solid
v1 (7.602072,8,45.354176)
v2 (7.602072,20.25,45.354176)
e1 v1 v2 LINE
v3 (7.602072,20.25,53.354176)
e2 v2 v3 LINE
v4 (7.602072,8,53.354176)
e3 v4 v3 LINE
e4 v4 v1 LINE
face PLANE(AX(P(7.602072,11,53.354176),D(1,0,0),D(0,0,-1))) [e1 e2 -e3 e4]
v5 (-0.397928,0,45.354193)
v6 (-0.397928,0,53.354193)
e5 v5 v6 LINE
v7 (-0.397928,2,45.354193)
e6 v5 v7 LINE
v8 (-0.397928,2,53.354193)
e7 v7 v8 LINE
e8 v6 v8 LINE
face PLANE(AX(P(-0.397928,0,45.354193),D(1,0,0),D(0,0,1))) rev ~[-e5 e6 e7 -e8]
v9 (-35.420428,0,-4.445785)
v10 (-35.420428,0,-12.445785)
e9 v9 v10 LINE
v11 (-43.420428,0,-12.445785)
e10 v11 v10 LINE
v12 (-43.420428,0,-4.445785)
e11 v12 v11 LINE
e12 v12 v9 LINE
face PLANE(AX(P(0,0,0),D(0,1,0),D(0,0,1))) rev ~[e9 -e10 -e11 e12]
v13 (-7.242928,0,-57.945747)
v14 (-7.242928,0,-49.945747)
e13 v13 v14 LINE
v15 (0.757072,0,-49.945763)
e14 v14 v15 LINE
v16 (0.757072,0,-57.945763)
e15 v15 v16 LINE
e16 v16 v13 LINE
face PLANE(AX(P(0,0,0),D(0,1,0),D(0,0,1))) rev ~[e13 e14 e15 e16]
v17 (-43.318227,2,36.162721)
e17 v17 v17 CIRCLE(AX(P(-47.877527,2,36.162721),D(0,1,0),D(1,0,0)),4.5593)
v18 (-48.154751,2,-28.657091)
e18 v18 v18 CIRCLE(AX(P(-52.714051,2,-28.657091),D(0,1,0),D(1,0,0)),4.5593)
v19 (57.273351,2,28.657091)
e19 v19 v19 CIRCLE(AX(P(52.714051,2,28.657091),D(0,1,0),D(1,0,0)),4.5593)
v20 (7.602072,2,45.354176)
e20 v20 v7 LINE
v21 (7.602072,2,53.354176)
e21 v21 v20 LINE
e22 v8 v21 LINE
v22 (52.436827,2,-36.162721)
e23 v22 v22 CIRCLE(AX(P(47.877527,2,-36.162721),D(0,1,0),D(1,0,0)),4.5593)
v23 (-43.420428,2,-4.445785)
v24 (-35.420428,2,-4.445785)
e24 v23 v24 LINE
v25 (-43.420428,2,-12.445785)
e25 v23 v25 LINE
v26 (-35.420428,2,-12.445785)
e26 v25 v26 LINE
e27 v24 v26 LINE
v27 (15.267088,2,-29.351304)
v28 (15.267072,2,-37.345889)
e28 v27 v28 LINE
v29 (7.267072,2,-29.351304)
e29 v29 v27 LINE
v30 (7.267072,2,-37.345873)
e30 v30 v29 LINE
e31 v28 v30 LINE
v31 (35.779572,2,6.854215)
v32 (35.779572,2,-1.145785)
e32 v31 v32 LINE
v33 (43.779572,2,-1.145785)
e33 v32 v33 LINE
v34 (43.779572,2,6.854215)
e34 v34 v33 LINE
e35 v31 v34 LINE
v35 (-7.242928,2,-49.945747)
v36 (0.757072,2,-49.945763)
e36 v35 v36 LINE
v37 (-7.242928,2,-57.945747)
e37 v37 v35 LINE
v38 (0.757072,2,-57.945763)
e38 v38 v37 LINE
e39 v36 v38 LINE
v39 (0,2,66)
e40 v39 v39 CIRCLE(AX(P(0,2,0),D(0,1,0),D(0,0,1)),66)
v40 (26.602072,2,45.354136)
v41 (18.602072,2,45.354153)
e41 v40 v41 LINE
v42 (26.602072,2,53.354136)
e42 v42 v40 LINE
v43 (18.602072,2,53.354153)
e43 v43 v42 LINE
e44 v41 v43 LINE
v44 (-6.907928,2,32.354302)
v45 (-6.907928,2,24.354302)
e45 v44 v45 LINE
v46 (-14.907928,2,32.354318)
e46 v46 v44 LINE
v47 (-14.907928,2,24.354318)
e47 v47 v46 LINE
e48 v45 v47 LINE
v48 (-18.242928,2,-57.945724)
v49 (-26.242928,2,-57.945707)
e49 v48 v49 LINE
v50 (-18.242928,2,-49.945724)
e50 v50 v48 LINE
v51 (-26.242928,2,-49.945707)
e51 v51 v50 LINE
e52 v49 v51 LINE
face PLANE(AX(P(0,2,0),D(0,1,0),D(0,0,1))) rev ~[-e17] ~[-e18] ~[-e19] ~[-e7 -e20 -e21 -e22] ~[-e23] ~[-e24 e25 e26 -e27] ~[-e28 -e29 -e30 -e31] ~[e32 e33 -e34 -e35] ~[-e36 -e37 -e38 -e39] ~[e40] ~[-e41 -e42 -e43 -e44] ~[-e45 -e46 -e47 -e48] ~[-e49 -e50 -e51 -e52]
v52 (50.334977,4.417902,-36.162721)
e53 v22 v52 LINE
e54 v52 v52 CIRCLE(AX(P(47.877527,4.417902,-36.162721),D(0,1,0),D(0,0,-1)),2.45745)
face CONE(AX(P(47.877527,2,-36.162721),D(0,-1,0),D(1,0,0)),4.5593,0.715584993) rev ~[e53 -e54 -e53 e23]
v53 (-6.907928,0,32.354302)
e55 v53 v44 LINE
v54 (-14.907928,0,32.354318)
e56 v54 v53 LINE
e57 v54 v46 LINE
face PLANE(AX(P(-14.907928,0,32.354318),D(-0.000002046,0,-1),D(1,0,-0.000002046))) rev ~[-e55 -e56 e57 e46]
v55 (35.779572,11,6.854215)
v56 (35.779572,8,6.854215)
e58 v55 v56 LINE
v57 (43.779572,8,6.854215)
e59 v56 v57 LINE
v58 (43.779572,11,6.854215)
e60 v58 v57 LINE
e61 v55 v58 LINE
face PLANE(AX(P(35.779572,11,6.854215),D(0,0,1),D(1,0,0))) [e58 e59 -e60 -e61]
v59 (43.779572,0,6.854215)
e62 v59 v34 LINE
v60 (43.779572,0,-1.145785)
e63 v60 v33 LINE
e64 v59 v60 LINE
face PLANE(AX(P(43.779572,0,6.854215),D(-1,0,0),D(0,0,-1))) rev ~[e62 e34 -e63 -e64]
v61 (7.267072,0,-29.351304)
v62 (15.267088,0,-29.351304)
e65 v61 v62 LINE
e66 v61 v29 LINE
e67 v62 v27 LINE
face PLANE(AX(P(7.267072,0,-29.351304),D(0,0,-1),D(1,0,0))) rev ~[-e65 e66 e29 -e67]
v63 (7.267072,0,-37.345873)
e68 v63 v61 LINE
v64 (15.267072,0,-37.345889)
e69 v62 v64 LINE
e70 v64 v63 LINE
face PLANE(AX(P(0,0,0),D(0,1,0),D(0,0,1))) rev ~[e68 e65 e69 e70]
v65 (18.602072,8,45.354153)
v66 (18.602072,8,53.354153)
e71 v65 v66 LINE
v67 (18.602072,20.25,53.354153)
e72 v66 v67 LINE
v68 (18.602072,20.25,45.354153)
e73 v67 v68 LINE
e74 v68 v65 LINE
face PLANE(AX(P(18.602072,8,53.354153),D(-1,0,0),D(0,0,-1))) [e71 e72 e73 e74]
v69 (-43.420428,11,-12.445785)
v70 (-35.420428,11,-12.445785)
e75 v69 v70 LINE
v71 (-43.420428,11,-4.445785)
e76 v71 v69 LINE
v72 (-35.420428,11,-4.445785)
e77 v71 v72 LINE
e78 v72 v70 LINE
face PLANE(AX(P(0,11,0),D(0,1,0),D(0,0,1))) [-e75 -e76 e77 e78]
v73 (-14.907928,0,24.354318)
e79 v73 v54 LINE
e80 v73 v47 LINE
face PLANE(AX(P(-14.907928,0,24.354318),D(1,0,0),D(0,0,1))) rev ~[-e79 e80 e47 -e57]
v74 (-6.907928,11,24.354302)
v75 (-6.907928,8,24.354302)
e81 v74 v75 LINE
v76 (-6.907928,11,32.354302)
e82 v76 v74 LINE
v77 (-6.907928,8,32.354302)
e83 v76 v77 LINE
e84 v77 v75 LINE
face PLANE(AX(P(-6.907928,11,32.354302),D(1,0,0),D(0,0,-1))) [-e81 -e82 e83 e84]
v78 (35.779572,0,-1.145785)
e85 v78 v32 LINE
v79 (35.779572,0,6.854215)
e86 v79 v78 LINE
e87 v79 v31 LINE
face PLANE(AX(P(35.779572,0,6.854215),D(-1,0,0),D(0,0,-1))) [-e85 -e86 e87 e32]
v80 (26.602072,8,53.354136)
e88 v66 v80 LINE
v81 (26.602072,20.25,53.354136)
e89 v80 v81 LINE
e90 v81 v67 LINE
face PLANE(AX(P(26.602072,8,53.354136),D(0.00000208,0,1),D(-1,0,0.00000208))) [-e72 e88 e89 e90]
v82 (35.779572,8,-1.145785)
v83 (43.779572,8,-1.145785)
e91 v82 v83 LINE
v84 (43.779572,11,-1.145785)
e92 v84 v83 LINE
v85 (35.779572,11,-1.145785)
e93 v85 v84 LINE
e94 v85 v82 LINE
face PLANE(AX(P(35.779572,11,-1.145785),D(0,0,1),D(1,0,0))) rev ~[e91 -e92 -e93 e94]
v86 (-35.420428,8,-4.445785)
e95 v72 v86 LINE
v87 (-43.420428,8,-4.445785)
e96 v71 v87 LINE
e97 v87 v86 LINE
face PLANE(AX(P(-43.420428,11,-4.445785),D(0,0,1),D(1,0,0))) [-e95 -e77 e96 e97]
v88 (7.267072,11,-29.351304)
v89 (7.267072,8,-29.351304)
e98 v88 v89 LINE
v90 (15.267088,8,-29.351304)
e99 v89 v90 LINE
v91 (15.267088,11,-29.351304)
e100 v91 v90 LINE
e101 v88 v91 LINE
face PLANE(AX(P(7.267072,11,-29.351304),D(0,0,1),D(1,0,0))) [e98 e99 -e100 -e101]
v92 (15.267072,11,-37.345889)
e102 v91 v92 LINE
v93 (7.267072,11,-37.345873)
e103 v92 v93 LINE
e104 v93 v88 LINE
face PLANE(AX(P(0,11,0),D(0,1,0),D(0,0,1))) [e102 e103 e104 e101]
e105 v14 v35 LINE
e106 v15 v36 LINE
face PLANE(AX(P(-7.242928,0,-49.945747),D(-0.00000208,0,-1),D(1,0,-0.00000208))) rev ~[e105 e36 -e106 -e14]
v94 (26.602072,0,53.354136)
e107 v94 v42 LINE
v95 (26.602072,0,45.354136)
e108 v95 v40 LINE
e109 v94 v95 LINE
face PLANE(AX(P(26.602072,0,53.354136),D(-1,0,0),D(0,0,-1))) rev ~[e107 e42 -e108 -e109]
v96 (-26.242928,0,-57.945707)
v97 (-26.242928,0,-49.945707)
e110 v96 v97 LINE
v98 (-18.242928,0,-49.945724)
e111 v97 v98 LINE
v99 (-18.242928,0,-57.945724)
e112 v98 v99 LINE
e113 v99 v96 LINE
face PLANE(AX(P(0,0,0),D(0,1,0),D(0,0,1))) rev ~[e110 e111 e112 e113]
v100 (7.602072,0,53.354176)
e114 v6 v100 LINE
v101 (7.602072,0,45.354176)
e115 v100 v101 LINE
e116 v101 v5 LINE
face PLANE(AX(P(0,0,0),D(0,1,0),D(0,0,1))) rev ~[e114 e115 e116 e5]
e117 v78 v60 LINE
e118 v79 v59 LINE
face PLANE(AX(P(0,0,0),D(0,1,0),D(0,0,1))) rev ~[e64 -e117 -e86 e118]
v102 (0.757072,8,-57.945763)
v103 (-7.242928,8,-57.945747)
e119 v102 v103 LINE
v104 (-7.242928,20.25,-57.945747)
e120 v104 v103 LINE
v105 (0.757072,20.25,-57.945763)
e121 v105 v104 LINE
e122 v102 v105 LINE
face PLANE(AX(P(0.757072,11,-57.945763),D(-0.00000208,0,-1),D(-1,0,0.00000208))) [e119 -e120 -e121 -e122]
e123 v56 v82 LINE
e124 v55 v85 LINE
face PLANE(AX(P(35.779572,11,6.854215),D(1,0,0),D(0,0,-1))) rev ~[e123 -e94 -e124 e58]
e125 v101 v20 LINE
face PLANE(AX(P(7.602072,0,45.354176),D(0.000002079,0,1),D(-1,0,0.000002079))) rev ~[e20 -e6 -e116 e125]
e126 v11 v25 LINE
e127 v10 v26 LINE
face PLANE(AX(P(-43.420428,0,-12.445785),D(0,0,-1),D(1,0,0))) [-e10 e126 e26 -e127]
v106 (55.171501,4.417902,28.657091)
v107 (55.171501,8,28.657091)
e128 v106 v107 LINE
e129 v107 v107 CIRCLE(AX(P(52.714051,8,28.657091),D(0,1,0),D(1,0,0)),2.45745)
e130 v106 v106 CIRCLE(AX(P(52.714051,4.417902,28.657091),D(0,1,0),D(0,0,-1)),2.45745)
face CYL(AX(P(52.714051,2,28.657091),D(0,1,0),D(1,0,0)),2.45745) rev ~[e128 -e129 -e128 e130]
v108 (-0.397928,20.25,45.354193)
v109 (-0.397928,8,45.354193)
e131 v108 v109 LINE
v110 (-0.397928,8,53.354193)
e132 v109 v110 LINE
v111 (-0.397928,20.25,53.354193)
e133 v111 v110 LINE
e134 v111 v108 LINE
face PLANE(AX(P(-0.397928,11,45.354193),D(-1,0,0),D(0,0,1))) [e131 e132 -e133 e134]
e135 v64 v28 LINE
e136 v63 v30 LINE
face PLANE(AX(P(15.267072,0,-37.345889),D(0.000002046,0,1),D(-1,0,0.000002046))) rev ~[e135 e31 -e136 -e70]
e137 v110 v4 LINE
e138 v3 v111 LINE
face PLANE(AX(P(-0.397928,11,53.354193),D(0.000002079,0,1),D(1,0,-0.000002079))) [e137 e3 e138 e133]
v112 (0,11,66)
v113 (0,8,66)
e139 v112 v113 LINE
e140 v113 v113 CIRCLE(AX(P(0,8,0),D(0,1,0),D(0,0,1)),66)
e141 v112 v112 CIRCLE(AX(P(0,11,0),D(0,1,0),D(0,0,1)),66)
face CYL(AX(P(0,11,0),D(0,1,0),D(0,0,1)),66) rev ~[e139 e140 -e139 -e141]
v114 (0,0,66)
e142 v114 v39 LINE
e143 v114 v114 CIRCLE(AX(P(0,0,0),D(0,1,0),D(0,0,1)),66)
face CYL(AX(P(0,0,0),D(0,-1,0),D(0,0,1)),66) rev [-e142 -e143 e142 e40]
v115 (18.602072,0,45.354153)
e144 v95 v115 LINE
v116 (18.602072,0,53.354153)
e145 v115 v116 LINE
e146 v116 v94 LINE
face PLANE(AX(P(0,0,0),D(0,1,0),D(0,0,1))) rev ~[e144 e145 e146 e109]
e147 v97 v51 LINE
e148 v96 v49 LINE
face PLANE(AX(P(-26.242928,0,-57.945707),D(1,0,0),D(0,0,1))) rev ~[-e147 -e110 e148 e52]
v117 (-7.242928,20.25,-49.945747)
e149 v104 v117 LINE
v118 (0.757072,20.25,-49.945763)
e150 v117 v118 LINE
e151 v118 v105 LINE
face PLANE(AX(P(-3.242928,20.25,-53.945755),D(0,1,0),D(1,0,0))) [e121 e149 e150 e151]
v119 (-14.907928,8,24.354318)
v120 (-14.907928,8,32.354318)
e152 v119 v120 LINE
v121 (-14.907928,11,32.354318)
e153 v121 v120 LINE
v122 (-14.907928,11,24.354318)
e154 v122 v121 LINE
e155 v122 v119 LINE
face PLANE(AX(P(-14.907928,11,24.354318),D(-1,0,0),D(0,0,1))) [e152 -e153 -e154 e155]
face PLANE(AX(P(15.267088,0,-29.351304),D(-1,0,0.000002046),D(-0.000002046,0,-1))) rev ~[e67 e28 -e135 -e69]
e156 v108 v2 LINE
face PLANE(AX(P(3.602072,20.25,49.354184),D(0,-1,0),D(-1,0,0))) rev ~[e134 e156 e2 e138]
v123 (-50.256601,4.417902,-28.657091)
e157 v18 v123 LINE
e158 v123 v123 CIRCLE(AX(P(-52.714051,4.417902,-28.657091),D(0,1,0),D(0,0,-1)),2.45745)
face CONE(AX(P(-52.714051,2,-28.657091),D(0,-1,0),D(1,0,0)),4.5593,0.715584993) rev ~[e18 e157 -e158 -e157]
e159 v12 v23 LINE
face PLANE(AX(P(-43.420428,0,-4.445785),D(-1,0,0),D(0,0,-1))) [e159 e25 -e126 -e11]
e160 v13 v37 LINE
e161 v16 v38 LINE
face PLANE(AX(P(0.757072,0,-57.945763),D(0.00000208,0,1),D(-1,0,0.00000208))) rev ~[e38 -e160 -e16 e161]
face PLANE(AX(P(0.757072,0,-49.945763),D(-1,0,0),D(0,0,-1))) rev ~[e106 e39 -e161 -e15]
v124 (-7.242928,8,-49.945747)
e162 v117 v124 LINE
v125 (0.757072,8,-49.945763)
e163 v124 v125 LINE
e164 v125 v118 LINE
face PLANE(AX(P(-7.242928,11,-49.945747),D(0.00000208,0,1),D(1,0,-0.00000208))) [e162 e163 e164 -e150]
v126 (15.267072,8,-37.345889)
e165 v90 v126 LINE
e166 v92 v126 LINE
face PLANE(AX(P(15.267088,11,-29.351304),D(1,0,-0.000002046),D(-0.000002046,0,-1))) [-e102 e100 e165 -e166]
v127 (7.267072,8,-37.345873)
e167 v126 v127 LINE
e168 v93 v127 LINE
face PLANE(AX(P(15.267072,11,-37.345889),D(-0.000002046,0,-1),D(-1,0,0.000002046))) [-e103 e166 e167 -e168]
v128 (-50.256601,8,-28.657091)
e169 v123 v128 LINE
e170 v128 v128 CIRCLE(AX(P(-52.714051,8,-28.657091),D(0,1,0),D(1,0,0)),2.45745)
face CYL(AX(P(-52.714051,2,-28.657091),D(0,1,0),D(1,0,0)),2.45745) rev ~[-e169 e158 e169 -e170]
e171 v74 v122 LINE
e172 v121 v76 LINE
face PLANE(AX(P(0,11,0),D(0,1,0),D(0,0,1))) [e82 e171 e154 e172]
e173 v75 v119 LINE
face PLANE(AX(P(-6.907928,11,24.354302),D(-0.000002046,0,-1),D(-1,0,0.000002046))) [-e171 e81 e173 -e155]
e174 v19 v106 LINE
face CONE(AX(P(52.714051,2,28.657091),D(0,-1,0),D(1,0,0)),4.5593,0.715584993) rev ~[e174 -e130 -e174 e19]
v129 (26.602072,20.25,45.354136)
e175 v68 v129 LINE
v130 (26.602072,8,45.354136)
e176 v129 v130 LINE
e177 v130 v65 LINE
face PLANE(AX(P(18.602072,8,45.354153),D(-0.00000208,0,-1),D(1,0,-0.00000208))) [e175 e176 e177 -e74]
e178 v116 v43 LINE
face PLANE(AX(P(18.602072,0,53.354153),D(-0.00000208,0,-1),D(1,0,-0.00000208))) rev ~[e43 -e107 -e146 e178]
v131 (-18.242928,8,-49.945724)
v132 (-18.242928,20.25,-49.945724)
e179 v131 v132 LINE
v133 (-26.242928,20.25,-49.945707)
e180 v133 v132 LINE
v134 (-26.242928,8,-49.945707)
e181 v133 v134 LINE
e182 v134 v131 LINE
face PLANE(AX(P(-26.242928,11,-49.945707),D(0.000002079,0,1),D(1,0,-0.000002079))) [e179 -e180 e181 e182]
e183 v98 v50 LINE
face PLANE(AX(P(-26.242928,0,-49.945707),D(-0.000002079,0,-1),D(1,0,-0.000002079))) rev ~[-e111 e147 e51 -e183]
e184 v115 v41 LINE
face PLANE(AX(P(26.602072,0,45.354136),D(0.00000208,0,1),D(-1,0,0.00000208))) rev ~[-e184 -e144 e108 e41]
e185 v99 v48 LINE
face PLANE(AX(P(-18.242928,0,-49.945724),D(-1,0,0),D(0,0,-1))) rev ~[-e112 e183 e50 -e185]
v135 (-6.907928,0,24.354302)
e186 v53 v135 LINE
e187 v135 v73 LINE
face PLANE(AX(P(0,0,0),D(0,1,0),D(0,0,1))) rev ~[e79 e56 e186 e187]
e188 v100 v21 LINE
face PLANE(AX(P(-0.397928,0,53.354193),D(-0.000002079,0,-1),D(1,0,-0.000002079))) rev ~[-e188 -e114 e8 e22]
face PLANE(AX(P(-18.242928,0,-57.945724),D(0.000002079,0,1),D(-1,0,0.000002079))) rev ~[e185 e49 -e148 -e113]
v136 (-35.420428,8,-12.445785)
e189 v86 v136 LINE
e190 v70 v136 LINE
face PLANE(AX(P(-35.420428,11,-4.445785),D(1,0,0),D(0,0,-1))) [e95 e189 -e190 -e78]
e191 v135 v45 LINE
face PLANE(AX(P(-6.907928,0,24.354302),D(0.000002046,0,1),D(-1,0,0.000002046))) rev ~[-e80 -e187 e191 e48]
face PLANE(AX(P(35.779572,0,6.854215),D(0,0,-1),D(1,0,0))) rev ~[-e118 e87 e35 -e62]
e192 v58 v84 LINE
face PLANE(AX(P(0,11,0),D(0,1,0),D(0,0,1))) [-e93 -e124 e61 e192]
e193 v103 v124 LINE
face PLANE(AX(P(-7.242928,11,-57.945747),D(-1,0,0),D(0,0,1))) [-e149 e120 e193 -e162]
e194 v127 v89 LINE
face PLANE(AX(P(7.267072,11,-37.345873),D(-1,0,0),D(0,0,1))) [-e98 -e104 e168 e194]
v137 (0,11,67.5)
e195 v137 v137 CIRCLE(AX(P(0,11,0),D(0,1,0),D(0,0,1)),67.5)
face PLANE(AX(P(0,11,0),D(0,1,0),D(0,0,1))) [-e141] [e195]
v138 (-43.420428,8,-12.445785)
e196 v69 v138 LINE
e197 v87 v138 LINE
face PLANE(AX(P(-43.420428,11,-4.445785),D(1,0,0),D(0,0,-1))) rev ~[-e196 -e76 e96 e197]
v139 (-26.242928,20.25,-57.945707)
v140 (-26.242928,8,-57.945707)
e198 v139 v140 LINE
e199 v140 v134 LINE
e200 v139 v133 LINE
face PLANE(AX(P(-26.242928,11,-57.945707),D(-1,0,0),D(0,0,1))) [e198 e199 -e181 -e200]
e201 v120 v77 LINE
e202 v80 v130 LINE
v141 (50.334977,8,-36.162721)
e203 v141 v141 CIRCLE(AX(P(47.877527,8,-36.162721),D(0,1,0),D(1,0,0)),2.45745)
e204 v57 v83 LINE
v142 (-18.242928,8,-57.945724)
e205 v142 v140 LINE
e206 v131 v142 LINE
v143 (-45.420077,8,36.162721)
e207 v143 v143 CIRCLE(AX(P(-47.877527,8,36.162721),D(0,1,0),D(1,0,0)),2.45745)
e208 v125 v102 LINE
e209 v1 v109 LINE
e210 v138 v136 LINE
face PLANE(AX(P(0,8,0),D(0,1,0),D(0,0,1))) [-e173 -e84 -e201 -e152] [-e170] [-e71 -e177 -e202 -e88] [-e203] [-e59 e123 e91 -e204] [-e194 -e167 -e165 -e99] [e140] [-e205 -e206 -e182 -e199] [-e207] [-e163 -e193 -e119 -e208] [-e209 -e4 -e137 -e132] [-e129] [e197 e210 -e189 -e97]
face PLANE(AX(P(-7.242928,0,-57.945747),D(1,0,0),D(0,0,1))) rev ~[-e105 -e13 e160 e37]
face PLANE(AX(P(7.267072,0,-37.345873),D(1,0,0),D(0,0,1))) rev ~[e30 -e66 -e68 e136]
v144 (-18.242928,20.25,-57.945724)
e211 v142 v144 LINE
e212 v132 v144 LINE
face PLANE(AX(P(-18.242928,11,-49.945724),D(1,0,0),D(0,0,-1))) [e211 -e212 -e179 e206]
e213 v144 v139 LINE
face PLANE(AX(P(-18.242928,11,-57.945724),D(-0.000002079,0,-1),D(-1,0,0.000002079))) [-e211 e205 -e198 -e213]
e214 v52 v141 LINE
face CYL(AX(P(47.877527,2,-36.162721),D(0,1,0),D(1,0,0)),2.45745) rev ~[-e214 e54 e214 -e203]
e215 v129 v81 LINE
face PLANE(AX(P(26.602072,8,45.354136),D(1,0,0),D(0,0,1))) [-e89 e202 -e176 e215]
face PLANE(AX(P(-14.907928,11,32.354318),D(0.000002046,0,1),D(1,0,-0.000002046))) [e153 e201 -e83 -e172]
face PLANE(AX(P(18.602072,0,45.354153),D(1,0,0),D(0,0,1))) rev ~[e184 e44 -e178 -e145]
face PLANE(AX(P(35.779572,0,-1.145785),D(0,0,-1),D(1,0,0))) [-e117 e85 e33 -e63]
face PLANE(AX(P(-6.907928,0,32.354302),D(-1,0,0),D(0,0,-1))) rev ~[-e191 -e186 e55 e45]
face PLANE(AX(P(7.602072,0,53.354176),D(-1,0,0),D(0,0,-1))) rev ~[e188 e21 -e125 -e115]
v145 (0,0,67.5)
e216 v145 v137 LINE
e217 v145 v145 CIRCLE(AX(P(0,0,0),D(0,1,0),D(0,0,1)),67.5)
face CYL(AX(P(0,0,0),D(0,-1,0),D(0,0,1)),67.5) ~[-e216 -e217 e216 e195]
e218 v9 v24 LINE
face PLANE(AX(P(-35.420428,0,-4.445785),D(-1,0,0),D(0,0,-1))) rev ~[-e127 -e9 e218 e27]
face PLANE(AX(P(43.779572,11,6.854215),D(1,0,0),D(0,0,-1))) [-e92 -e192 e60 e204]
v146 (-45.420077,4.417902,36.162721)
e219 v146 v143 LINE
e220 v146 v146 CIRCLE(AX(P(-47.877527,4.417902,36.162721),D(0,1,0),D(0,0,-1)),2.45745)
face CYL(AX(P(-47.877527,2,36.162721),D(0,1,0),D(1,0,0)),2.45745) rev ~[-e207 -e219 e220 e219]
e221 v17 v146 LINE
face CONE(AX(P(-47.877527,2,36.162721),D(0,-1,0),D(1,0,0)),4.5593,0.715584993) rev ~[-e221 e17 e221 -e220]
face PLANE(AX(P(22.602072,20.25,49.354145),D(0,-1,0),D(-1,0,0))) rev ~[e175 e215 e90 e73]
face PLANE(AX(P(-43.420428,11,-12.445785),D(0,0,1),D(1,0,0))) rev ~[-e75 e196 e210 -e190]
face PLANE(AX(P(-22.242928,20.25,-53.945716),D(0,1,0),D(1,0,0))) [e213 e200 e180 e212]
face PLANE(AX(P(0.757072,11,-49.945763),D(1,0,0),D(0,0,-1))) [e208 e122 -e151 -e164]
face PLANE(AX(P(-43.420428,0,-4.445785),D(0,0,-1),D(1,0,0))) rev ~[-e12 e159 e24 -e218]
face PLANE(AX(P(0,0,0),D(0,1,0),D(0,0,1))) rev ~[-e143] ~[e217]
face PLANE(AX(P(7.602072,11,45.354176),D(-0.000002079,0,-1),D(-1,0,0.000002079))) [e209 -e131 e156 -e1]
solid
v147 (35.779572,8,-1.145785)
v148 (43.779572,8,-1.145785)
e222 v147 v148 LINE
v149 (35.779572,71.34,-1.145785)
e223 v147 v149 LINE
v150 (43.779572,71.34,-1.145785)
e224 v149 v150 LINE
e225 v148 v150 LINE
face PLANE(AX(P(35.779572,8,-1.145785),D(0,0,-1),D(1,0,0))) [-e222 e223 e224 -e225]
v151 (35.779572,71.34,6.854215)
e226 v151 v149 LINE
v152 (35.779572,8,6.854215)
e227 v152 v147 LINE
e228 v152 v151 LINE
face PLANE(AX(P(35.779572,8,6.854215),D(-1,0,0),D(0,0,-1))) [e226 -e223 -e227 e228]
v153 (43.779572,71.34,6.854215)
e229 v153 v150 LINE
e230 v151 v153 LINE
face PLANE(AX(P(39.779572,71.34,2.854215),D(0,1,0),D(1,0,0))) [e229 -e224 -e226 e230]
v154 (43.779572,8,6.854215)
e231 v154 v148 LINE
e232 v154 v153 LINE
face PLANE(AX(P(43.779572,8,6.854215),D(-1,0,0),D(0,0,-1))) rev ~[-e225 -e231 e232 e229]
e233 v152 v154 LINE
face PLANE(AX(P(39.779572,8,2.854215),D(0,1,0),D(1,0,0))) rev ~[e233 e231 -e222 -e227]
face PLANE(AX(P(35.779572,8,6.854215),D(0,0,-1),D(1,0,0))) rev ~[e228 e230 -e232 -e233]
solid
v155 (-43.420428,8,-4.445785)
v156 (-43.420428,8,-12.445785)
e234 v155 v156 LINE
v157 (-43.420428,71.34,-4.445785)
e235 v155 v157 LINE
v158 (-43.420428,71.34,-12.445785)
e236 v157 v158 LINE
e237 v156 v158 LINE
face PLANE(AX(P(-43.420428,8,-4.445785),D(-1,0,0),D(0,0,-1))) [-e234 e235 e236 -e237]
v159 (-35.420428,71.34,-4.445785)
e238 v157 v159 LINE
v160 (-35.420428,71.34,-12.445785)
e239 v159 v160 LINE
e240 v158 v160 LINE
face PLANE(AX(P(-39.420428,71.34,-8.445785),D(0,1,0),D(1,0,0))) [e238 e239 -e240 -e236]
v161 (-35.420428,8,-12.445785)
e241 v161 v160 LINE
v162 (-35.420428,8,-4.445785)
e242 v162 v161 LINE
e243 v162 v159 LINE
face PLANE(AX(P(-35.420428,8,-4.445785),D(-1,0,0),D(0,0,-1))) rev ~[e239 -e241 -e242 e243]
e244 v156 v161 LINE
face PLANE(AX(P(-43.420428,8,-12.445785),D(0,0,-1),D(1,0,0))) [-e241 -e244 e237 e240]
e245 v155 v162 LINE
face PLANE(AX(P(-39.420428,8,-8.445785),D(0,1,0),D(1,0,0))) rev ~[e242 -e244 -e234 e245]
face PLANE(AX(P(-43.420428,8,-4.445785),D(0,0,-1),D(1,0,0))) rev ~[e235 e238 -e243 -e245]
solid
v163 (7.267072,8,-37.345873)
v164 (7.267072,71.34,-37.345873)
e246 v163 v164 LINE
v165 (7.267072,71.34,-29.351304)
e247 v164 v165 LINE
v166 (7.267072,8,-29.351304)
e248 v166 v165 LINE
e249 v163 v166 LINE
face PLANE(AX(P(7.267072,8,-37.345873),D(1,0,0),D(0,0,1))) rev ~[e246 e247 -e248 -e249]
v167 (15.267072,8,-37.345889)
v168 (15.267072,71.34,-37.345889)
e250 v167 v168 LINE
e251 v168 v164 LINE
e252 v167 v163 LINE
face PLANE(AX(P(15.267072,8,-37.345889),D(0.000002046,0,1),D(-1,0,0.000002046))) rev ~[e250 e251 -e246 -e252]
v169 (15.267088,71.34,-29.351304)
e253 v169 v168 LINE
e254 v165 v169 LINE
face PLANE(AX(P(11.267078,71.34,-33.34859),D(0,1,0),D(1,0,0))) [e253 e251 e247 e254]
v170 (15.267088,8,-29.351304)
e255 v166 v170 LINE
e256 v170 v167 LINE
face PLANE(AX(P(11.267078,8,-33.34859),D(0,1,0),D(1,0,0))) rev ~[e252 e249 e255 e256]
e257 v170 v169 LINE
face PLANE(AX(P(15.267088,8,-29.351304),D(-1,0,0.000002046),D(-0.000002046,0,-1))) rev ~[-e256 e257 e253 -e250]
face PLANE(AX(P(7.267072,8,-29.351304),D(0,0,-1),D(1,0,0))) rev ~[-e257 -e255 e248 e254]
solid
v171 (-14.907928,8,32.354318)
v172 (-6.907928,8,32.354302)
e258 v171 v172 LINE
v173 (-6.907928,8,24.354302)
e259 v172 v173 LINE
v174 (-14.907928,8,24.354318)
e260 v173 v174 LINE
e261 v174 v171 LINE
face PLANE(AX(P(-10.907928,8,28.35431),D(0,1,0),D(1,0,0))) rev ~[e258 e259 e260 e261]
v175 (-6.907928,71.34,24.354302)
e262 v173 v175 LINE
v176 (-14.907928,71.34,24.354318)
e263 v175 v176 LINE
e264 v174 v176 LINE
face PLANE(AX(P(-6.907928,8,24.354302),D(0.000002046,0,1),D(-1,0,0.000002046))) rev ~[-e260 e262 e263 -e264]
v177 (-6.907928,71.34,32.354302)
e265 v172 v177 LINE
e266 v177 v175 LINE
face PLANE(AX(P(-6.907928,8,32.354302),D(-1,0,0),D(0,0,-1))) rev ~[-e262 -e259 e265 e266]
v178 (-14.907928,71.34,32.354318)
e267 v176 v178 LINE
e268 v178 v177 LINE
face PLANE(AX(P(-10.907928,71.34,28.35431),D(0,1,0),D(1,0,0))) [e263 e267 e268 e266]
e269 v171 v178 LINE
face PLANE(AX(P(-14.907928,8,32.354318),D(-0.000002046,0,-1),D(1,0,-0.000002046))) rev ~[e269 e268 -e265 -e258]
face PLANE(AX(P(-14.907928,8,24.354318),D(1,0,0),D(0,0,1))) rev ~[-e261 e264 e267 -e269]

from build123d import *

# Parameters (mm, degrees)
SKETCH1_R                                         = 67.5
BOSS_EXTRUDE1_DEPTH                               = 11
SKETCH2_R                                         = 66
SKETCH2_W                                         = 8
SKETCH2_H                                         = 8
CUT_EXTRUDE1_DEPTH                                = 3
CUT_EXTRUDE2_START                                = -11
SKETCH2_2_R                                       = 66
SKETCH2_2_W                                       = 8
SKETCH2_2_H                                       = 8
CUT_EXTRUDE2_DEPTH                                = 2
CSK_FOR_8_FLAT_HEAD_SOCKET_CAP_SCREW1_D           = 4.9149
CSK_FOR_8_FLAT_HEAD_SOCKET_CAP_SCREW1_CSINK_D     = 9.1186
CSK_FOR_8_FLAT_HEAD_SOCKET_CAP_SCREW1_CSINK_ANGLE = 82
SKETCH11_W                                        = 8
SKETCH11_H                                        = 8
BOSS_EXTRUDE4_DEPTH                               = 63.34
BOSS_EXTRUDE4_2_DEPTH                             = 63.34
BOSS_EXTRUDE4_3_DEPTH                             = 63.34
BOSS_EXTRUDE4_4_DEPTH                             = 63.34
BOSS_EXTRUDE5_DEPTH                               = 12.25


with BuildPart() as part:
    # Sketch1 → Boss-Extrude1 (new body)
    with BuildSketch(Plane(origin=(0, 0, 0), x_dir=(1, 0, 0), z_dir=(0, 1, 0))):
        with Locations(Location((0, 0, 0), (0, 0, 270))):
            Circle(SKETCH1_R)
    extrude(amount=BOSS_EXTRUDE1_DEPTH)

    # Sketch2 → Cut-Extrude1 (cut)
    with BuildSketch(Plane(origin=(0, 11, 0), x_dir=(1, 0, 0), z_dir=(0, 1, 0))):
        with Locations(Location((0, 0, 0), (0, 0, 270))):
            Circle(SKETCH2_R)
        with Locations((-39.420428007, 8.44578543)):
            Rectangle(SKETCH2_W, SKETCH2_H, mode=Mode.SUBTRACT)
        Polygon((-26.242928007, 49.945707301), (-18.242928007, 49.945723937), (-18.242928007, 57.945723937), (-26.242928007, 57.945707301), align=None, mode=Mode.SUBTRACT)
        Polygon((-7.242928007, 49.945746812), (0.757071993, 49.945763449), (0.757071993, 57.945763449), (-7.242928007, 57.945746812), align=None, mode=Mode.SUBTRACT)
        Polygon((7.267071993, 29.351303866), (15.26708835, 29.351303866), (15.267071993, 37.345889008), (7.267071993, 37.34587264), align=None, mode=Mode.SUBTRACT)
        with Locations((39.779571993, -2.85421457)):
            Rectangle(SKETCH2_W, SKETCH2_H, mode=Mode.SUBTRACT)
        Polygon((18.602071993, -53.354153078), (26.602071993, -53.354136441), (26.602071993, -45.354136441), (18.602071993, -45.354153078), align=None, mode=Mode.SUBTRACT)
        Polygon((-0.397928007, -53.354192589), (7.602071993, -53.354175953), (7.602071993, -45.354175953), (-0.397928007, -45.354192589), align=None, mode=Mode.SUBTRACT)
        Polygon((-14.907928007, -32.354318149), (-6.907928007, -32.354301781), (-6.907928007, -24.354301781), (-14.907928007, -24.354318149), align=None, mode=Mode.SUBTRACT)
    extrude(amount=-CUT_EXTRUDE1_DEPTH, mode=Mode.SUBTRACT)

    # Sketch2<2> → Cut-Extrude2 (cut)
    with BuildSketch(Plane(origin=(0, 11, 0), x_dir=(1, 0, 0), z_dir=(0, 1, 0)).offset(CUT_EXTRUDE2_START)):
        with Locations(Location((0, 0, 0), (0, 0, 270))):
            Circle(SKETCH2_2_R)
        with Locations((-39.420428007, 8.44578543)):
            Rectangle(SKETCH2_2_W, SKETCH2_2_H, mode=Mode.SUBTRACT)
        Polygon((-26.242928007, 49.945707301), (-18.242928007, 49.945723937), (-18.242928007, 57.945723937), (-26.242928007, 57.945707301), align=None, mode=Mode.SUBTRACT)
        Polygon((-7.242928007, 49.945746812), (0.757071993, 49.945763449), (0.757071993, 57.945763449), (-7.242928007, 57.945746812), align=None, mode=Mode.SUBTRACT)
        Polygon((7.267071993, 29.351303866), (15.26708835, 29.351303866), (15.267071993, 37.345889008), (7.267071993, 37.34587264), align=None, mode=Mode.SUBTRACT)
        with Locations((39.779571993, -2.85421457)):
            Rectangle(SKETCH2_2_W, SKETCH2_2_H, mode=Mode.SUBTRACT)
        Polygon((18.602071993, -53.354153078), (26.602071993, -53.354136441), (26.602071993, -45.354136441), (18.602071993, -45.354153078), align=None, mode=Mode.SUBTRACT)
        Polygon((-0.397928007, -53.354192589), (7.602071993, -53.354175953), (7.602071993, -45.354175953), (-0.397928007, -45.354192589), align=None, mode=Mode.SUBTRACT)
        Polygon((-14.907928007, -32.354318149), (-6.907928007, -32.354301781), (-6.907928007, -24.354301781), (-14.907928007, -24.354318149), align=None, mode=Mode.SUBTRACT)
    extrude(amount=CUT_EXTRUDE2_DEPTH, mode=Mode.SUBTRACT)

    # CSK for #8 Flat Head Socket Cap Screw1 (through all)
    with Locations(Plane(origin=(0, 2, 0), x_dir=(-1, 0, 0), z_dir=(0, -1, 0))):
        with Locations((52.71405081, 28.657090698), (-47.87752691, 36.162721371), (-52.71405081, -28.657090698), (47.87752691, -36.162721371)):
            CounterSinkHole(CSK_FOR_8_FLAT_HEAD_SOCKET_CAP_SCREW1_D / 2, CSK_FOR_8_FLAT_HEAD_SOCKET_CAP_SCREW1_CSINK_D / 2, counter_sink_angle=CSK_FOR_8_FLAT_HEAD_SOCKET_CAP_SCREW1_CSINK_ANGLE)

    # Sketch12 → Boss-Extrude5 (add)
    with BuildSketch(Plane(origin=(0, 8, 0), x_dir=(1, 0, 0), z_dir=(0, 1, 0))):
        Polygon((18.602071993, -53.354153078), (18.602071993, -45.354153078), (26.602071993, -45.354136441), (26.602071993, -53.354136441), align=None)
        Polygon((7.602071993, -53.354175953), (-0.397928007, -53.354192589), (-0.397928007, -45.354192589), (7.602071993, -45.354175953), align=None)
        Polygon((0.757071993, 57.945763449), (-7.242928007, 57.945746812), (-7.242928007, 49.945746812), (0.757071993, 49.945763449), align=None)
        Polygon((-18.242928007, 57.945723937), (-26.242928007, 57.945707301), (-26.242928007, 49.945707301), (-18.242928007, 49.945723937), align=None)
    extrude(amount=BOSS_EXTRUDE5_DEPTH)


with BuildPart() as body_2:
    # Sketch11 → Boss-Extrude4 (new body)
    with BuildSketch(Plane(origin=(0, 8, 0), x_dir=(1, 0, 0), z_dir=(0, 1, 0))):
        with Locations((-39.420428007, 8.44578543)):
            Rectangle(SKETCH11_W, SKETCH11_H)
    extrude(amount=BOSS_EXTRUDE4_DEPTH)


with BuildPart() as body_3:
    # Sketch11 → Boss-Extrude4 2 (new body)
    with BuildSketch(Plane(origin=(0, 8, 0), x_dir=(1, 0, 0), z_dir=(0, 1, 0))):
        Polygon((7.267071993, 37.34587264), (7.267071993, 29.351303866), (15.26708835, 29.351303866), (15.267071993, 37.345889008), align=None)
    extrude(amount=BOSS_EXTRUDE4_2_DEPTH)


with BuildPart() as body_4:
    # Sketch11 → Boss-Extrude4 3 (new body)
    with BuildSketch(Plane(origin=(0, 8, 0), x_dir=(1, 0, 0), z_dir=(0, 1, 0))):
        with Locations((39.779571993, -2.85421457)):
            Rectangle(SKETCH11_W, SKETCH11_H)
    extrude(amount=BOSS_EXTRUDE4_3_DEPTH)


with BuildPart() as body_5:
    # Sketch11 → Boss-Extrude4 4 (new body)
    with BuildSketch(Plane(origin=(0, 8, 0), x_dir=(1, 0, 0), z_dir=(0, 1, 0))):
        Polygon((-14.907928007, -24.354318149), (-14.907928007, -32.354318149), (-6.907928007, -32.354301781), (-6.907928007, -24.354301781), align=None)
    extrude(amount=BOSS_EXTRUDE4_4_DEPTH)


solid = Compound([part.part, body_2.part, body_3.part, body_4.part, body_5.part])
